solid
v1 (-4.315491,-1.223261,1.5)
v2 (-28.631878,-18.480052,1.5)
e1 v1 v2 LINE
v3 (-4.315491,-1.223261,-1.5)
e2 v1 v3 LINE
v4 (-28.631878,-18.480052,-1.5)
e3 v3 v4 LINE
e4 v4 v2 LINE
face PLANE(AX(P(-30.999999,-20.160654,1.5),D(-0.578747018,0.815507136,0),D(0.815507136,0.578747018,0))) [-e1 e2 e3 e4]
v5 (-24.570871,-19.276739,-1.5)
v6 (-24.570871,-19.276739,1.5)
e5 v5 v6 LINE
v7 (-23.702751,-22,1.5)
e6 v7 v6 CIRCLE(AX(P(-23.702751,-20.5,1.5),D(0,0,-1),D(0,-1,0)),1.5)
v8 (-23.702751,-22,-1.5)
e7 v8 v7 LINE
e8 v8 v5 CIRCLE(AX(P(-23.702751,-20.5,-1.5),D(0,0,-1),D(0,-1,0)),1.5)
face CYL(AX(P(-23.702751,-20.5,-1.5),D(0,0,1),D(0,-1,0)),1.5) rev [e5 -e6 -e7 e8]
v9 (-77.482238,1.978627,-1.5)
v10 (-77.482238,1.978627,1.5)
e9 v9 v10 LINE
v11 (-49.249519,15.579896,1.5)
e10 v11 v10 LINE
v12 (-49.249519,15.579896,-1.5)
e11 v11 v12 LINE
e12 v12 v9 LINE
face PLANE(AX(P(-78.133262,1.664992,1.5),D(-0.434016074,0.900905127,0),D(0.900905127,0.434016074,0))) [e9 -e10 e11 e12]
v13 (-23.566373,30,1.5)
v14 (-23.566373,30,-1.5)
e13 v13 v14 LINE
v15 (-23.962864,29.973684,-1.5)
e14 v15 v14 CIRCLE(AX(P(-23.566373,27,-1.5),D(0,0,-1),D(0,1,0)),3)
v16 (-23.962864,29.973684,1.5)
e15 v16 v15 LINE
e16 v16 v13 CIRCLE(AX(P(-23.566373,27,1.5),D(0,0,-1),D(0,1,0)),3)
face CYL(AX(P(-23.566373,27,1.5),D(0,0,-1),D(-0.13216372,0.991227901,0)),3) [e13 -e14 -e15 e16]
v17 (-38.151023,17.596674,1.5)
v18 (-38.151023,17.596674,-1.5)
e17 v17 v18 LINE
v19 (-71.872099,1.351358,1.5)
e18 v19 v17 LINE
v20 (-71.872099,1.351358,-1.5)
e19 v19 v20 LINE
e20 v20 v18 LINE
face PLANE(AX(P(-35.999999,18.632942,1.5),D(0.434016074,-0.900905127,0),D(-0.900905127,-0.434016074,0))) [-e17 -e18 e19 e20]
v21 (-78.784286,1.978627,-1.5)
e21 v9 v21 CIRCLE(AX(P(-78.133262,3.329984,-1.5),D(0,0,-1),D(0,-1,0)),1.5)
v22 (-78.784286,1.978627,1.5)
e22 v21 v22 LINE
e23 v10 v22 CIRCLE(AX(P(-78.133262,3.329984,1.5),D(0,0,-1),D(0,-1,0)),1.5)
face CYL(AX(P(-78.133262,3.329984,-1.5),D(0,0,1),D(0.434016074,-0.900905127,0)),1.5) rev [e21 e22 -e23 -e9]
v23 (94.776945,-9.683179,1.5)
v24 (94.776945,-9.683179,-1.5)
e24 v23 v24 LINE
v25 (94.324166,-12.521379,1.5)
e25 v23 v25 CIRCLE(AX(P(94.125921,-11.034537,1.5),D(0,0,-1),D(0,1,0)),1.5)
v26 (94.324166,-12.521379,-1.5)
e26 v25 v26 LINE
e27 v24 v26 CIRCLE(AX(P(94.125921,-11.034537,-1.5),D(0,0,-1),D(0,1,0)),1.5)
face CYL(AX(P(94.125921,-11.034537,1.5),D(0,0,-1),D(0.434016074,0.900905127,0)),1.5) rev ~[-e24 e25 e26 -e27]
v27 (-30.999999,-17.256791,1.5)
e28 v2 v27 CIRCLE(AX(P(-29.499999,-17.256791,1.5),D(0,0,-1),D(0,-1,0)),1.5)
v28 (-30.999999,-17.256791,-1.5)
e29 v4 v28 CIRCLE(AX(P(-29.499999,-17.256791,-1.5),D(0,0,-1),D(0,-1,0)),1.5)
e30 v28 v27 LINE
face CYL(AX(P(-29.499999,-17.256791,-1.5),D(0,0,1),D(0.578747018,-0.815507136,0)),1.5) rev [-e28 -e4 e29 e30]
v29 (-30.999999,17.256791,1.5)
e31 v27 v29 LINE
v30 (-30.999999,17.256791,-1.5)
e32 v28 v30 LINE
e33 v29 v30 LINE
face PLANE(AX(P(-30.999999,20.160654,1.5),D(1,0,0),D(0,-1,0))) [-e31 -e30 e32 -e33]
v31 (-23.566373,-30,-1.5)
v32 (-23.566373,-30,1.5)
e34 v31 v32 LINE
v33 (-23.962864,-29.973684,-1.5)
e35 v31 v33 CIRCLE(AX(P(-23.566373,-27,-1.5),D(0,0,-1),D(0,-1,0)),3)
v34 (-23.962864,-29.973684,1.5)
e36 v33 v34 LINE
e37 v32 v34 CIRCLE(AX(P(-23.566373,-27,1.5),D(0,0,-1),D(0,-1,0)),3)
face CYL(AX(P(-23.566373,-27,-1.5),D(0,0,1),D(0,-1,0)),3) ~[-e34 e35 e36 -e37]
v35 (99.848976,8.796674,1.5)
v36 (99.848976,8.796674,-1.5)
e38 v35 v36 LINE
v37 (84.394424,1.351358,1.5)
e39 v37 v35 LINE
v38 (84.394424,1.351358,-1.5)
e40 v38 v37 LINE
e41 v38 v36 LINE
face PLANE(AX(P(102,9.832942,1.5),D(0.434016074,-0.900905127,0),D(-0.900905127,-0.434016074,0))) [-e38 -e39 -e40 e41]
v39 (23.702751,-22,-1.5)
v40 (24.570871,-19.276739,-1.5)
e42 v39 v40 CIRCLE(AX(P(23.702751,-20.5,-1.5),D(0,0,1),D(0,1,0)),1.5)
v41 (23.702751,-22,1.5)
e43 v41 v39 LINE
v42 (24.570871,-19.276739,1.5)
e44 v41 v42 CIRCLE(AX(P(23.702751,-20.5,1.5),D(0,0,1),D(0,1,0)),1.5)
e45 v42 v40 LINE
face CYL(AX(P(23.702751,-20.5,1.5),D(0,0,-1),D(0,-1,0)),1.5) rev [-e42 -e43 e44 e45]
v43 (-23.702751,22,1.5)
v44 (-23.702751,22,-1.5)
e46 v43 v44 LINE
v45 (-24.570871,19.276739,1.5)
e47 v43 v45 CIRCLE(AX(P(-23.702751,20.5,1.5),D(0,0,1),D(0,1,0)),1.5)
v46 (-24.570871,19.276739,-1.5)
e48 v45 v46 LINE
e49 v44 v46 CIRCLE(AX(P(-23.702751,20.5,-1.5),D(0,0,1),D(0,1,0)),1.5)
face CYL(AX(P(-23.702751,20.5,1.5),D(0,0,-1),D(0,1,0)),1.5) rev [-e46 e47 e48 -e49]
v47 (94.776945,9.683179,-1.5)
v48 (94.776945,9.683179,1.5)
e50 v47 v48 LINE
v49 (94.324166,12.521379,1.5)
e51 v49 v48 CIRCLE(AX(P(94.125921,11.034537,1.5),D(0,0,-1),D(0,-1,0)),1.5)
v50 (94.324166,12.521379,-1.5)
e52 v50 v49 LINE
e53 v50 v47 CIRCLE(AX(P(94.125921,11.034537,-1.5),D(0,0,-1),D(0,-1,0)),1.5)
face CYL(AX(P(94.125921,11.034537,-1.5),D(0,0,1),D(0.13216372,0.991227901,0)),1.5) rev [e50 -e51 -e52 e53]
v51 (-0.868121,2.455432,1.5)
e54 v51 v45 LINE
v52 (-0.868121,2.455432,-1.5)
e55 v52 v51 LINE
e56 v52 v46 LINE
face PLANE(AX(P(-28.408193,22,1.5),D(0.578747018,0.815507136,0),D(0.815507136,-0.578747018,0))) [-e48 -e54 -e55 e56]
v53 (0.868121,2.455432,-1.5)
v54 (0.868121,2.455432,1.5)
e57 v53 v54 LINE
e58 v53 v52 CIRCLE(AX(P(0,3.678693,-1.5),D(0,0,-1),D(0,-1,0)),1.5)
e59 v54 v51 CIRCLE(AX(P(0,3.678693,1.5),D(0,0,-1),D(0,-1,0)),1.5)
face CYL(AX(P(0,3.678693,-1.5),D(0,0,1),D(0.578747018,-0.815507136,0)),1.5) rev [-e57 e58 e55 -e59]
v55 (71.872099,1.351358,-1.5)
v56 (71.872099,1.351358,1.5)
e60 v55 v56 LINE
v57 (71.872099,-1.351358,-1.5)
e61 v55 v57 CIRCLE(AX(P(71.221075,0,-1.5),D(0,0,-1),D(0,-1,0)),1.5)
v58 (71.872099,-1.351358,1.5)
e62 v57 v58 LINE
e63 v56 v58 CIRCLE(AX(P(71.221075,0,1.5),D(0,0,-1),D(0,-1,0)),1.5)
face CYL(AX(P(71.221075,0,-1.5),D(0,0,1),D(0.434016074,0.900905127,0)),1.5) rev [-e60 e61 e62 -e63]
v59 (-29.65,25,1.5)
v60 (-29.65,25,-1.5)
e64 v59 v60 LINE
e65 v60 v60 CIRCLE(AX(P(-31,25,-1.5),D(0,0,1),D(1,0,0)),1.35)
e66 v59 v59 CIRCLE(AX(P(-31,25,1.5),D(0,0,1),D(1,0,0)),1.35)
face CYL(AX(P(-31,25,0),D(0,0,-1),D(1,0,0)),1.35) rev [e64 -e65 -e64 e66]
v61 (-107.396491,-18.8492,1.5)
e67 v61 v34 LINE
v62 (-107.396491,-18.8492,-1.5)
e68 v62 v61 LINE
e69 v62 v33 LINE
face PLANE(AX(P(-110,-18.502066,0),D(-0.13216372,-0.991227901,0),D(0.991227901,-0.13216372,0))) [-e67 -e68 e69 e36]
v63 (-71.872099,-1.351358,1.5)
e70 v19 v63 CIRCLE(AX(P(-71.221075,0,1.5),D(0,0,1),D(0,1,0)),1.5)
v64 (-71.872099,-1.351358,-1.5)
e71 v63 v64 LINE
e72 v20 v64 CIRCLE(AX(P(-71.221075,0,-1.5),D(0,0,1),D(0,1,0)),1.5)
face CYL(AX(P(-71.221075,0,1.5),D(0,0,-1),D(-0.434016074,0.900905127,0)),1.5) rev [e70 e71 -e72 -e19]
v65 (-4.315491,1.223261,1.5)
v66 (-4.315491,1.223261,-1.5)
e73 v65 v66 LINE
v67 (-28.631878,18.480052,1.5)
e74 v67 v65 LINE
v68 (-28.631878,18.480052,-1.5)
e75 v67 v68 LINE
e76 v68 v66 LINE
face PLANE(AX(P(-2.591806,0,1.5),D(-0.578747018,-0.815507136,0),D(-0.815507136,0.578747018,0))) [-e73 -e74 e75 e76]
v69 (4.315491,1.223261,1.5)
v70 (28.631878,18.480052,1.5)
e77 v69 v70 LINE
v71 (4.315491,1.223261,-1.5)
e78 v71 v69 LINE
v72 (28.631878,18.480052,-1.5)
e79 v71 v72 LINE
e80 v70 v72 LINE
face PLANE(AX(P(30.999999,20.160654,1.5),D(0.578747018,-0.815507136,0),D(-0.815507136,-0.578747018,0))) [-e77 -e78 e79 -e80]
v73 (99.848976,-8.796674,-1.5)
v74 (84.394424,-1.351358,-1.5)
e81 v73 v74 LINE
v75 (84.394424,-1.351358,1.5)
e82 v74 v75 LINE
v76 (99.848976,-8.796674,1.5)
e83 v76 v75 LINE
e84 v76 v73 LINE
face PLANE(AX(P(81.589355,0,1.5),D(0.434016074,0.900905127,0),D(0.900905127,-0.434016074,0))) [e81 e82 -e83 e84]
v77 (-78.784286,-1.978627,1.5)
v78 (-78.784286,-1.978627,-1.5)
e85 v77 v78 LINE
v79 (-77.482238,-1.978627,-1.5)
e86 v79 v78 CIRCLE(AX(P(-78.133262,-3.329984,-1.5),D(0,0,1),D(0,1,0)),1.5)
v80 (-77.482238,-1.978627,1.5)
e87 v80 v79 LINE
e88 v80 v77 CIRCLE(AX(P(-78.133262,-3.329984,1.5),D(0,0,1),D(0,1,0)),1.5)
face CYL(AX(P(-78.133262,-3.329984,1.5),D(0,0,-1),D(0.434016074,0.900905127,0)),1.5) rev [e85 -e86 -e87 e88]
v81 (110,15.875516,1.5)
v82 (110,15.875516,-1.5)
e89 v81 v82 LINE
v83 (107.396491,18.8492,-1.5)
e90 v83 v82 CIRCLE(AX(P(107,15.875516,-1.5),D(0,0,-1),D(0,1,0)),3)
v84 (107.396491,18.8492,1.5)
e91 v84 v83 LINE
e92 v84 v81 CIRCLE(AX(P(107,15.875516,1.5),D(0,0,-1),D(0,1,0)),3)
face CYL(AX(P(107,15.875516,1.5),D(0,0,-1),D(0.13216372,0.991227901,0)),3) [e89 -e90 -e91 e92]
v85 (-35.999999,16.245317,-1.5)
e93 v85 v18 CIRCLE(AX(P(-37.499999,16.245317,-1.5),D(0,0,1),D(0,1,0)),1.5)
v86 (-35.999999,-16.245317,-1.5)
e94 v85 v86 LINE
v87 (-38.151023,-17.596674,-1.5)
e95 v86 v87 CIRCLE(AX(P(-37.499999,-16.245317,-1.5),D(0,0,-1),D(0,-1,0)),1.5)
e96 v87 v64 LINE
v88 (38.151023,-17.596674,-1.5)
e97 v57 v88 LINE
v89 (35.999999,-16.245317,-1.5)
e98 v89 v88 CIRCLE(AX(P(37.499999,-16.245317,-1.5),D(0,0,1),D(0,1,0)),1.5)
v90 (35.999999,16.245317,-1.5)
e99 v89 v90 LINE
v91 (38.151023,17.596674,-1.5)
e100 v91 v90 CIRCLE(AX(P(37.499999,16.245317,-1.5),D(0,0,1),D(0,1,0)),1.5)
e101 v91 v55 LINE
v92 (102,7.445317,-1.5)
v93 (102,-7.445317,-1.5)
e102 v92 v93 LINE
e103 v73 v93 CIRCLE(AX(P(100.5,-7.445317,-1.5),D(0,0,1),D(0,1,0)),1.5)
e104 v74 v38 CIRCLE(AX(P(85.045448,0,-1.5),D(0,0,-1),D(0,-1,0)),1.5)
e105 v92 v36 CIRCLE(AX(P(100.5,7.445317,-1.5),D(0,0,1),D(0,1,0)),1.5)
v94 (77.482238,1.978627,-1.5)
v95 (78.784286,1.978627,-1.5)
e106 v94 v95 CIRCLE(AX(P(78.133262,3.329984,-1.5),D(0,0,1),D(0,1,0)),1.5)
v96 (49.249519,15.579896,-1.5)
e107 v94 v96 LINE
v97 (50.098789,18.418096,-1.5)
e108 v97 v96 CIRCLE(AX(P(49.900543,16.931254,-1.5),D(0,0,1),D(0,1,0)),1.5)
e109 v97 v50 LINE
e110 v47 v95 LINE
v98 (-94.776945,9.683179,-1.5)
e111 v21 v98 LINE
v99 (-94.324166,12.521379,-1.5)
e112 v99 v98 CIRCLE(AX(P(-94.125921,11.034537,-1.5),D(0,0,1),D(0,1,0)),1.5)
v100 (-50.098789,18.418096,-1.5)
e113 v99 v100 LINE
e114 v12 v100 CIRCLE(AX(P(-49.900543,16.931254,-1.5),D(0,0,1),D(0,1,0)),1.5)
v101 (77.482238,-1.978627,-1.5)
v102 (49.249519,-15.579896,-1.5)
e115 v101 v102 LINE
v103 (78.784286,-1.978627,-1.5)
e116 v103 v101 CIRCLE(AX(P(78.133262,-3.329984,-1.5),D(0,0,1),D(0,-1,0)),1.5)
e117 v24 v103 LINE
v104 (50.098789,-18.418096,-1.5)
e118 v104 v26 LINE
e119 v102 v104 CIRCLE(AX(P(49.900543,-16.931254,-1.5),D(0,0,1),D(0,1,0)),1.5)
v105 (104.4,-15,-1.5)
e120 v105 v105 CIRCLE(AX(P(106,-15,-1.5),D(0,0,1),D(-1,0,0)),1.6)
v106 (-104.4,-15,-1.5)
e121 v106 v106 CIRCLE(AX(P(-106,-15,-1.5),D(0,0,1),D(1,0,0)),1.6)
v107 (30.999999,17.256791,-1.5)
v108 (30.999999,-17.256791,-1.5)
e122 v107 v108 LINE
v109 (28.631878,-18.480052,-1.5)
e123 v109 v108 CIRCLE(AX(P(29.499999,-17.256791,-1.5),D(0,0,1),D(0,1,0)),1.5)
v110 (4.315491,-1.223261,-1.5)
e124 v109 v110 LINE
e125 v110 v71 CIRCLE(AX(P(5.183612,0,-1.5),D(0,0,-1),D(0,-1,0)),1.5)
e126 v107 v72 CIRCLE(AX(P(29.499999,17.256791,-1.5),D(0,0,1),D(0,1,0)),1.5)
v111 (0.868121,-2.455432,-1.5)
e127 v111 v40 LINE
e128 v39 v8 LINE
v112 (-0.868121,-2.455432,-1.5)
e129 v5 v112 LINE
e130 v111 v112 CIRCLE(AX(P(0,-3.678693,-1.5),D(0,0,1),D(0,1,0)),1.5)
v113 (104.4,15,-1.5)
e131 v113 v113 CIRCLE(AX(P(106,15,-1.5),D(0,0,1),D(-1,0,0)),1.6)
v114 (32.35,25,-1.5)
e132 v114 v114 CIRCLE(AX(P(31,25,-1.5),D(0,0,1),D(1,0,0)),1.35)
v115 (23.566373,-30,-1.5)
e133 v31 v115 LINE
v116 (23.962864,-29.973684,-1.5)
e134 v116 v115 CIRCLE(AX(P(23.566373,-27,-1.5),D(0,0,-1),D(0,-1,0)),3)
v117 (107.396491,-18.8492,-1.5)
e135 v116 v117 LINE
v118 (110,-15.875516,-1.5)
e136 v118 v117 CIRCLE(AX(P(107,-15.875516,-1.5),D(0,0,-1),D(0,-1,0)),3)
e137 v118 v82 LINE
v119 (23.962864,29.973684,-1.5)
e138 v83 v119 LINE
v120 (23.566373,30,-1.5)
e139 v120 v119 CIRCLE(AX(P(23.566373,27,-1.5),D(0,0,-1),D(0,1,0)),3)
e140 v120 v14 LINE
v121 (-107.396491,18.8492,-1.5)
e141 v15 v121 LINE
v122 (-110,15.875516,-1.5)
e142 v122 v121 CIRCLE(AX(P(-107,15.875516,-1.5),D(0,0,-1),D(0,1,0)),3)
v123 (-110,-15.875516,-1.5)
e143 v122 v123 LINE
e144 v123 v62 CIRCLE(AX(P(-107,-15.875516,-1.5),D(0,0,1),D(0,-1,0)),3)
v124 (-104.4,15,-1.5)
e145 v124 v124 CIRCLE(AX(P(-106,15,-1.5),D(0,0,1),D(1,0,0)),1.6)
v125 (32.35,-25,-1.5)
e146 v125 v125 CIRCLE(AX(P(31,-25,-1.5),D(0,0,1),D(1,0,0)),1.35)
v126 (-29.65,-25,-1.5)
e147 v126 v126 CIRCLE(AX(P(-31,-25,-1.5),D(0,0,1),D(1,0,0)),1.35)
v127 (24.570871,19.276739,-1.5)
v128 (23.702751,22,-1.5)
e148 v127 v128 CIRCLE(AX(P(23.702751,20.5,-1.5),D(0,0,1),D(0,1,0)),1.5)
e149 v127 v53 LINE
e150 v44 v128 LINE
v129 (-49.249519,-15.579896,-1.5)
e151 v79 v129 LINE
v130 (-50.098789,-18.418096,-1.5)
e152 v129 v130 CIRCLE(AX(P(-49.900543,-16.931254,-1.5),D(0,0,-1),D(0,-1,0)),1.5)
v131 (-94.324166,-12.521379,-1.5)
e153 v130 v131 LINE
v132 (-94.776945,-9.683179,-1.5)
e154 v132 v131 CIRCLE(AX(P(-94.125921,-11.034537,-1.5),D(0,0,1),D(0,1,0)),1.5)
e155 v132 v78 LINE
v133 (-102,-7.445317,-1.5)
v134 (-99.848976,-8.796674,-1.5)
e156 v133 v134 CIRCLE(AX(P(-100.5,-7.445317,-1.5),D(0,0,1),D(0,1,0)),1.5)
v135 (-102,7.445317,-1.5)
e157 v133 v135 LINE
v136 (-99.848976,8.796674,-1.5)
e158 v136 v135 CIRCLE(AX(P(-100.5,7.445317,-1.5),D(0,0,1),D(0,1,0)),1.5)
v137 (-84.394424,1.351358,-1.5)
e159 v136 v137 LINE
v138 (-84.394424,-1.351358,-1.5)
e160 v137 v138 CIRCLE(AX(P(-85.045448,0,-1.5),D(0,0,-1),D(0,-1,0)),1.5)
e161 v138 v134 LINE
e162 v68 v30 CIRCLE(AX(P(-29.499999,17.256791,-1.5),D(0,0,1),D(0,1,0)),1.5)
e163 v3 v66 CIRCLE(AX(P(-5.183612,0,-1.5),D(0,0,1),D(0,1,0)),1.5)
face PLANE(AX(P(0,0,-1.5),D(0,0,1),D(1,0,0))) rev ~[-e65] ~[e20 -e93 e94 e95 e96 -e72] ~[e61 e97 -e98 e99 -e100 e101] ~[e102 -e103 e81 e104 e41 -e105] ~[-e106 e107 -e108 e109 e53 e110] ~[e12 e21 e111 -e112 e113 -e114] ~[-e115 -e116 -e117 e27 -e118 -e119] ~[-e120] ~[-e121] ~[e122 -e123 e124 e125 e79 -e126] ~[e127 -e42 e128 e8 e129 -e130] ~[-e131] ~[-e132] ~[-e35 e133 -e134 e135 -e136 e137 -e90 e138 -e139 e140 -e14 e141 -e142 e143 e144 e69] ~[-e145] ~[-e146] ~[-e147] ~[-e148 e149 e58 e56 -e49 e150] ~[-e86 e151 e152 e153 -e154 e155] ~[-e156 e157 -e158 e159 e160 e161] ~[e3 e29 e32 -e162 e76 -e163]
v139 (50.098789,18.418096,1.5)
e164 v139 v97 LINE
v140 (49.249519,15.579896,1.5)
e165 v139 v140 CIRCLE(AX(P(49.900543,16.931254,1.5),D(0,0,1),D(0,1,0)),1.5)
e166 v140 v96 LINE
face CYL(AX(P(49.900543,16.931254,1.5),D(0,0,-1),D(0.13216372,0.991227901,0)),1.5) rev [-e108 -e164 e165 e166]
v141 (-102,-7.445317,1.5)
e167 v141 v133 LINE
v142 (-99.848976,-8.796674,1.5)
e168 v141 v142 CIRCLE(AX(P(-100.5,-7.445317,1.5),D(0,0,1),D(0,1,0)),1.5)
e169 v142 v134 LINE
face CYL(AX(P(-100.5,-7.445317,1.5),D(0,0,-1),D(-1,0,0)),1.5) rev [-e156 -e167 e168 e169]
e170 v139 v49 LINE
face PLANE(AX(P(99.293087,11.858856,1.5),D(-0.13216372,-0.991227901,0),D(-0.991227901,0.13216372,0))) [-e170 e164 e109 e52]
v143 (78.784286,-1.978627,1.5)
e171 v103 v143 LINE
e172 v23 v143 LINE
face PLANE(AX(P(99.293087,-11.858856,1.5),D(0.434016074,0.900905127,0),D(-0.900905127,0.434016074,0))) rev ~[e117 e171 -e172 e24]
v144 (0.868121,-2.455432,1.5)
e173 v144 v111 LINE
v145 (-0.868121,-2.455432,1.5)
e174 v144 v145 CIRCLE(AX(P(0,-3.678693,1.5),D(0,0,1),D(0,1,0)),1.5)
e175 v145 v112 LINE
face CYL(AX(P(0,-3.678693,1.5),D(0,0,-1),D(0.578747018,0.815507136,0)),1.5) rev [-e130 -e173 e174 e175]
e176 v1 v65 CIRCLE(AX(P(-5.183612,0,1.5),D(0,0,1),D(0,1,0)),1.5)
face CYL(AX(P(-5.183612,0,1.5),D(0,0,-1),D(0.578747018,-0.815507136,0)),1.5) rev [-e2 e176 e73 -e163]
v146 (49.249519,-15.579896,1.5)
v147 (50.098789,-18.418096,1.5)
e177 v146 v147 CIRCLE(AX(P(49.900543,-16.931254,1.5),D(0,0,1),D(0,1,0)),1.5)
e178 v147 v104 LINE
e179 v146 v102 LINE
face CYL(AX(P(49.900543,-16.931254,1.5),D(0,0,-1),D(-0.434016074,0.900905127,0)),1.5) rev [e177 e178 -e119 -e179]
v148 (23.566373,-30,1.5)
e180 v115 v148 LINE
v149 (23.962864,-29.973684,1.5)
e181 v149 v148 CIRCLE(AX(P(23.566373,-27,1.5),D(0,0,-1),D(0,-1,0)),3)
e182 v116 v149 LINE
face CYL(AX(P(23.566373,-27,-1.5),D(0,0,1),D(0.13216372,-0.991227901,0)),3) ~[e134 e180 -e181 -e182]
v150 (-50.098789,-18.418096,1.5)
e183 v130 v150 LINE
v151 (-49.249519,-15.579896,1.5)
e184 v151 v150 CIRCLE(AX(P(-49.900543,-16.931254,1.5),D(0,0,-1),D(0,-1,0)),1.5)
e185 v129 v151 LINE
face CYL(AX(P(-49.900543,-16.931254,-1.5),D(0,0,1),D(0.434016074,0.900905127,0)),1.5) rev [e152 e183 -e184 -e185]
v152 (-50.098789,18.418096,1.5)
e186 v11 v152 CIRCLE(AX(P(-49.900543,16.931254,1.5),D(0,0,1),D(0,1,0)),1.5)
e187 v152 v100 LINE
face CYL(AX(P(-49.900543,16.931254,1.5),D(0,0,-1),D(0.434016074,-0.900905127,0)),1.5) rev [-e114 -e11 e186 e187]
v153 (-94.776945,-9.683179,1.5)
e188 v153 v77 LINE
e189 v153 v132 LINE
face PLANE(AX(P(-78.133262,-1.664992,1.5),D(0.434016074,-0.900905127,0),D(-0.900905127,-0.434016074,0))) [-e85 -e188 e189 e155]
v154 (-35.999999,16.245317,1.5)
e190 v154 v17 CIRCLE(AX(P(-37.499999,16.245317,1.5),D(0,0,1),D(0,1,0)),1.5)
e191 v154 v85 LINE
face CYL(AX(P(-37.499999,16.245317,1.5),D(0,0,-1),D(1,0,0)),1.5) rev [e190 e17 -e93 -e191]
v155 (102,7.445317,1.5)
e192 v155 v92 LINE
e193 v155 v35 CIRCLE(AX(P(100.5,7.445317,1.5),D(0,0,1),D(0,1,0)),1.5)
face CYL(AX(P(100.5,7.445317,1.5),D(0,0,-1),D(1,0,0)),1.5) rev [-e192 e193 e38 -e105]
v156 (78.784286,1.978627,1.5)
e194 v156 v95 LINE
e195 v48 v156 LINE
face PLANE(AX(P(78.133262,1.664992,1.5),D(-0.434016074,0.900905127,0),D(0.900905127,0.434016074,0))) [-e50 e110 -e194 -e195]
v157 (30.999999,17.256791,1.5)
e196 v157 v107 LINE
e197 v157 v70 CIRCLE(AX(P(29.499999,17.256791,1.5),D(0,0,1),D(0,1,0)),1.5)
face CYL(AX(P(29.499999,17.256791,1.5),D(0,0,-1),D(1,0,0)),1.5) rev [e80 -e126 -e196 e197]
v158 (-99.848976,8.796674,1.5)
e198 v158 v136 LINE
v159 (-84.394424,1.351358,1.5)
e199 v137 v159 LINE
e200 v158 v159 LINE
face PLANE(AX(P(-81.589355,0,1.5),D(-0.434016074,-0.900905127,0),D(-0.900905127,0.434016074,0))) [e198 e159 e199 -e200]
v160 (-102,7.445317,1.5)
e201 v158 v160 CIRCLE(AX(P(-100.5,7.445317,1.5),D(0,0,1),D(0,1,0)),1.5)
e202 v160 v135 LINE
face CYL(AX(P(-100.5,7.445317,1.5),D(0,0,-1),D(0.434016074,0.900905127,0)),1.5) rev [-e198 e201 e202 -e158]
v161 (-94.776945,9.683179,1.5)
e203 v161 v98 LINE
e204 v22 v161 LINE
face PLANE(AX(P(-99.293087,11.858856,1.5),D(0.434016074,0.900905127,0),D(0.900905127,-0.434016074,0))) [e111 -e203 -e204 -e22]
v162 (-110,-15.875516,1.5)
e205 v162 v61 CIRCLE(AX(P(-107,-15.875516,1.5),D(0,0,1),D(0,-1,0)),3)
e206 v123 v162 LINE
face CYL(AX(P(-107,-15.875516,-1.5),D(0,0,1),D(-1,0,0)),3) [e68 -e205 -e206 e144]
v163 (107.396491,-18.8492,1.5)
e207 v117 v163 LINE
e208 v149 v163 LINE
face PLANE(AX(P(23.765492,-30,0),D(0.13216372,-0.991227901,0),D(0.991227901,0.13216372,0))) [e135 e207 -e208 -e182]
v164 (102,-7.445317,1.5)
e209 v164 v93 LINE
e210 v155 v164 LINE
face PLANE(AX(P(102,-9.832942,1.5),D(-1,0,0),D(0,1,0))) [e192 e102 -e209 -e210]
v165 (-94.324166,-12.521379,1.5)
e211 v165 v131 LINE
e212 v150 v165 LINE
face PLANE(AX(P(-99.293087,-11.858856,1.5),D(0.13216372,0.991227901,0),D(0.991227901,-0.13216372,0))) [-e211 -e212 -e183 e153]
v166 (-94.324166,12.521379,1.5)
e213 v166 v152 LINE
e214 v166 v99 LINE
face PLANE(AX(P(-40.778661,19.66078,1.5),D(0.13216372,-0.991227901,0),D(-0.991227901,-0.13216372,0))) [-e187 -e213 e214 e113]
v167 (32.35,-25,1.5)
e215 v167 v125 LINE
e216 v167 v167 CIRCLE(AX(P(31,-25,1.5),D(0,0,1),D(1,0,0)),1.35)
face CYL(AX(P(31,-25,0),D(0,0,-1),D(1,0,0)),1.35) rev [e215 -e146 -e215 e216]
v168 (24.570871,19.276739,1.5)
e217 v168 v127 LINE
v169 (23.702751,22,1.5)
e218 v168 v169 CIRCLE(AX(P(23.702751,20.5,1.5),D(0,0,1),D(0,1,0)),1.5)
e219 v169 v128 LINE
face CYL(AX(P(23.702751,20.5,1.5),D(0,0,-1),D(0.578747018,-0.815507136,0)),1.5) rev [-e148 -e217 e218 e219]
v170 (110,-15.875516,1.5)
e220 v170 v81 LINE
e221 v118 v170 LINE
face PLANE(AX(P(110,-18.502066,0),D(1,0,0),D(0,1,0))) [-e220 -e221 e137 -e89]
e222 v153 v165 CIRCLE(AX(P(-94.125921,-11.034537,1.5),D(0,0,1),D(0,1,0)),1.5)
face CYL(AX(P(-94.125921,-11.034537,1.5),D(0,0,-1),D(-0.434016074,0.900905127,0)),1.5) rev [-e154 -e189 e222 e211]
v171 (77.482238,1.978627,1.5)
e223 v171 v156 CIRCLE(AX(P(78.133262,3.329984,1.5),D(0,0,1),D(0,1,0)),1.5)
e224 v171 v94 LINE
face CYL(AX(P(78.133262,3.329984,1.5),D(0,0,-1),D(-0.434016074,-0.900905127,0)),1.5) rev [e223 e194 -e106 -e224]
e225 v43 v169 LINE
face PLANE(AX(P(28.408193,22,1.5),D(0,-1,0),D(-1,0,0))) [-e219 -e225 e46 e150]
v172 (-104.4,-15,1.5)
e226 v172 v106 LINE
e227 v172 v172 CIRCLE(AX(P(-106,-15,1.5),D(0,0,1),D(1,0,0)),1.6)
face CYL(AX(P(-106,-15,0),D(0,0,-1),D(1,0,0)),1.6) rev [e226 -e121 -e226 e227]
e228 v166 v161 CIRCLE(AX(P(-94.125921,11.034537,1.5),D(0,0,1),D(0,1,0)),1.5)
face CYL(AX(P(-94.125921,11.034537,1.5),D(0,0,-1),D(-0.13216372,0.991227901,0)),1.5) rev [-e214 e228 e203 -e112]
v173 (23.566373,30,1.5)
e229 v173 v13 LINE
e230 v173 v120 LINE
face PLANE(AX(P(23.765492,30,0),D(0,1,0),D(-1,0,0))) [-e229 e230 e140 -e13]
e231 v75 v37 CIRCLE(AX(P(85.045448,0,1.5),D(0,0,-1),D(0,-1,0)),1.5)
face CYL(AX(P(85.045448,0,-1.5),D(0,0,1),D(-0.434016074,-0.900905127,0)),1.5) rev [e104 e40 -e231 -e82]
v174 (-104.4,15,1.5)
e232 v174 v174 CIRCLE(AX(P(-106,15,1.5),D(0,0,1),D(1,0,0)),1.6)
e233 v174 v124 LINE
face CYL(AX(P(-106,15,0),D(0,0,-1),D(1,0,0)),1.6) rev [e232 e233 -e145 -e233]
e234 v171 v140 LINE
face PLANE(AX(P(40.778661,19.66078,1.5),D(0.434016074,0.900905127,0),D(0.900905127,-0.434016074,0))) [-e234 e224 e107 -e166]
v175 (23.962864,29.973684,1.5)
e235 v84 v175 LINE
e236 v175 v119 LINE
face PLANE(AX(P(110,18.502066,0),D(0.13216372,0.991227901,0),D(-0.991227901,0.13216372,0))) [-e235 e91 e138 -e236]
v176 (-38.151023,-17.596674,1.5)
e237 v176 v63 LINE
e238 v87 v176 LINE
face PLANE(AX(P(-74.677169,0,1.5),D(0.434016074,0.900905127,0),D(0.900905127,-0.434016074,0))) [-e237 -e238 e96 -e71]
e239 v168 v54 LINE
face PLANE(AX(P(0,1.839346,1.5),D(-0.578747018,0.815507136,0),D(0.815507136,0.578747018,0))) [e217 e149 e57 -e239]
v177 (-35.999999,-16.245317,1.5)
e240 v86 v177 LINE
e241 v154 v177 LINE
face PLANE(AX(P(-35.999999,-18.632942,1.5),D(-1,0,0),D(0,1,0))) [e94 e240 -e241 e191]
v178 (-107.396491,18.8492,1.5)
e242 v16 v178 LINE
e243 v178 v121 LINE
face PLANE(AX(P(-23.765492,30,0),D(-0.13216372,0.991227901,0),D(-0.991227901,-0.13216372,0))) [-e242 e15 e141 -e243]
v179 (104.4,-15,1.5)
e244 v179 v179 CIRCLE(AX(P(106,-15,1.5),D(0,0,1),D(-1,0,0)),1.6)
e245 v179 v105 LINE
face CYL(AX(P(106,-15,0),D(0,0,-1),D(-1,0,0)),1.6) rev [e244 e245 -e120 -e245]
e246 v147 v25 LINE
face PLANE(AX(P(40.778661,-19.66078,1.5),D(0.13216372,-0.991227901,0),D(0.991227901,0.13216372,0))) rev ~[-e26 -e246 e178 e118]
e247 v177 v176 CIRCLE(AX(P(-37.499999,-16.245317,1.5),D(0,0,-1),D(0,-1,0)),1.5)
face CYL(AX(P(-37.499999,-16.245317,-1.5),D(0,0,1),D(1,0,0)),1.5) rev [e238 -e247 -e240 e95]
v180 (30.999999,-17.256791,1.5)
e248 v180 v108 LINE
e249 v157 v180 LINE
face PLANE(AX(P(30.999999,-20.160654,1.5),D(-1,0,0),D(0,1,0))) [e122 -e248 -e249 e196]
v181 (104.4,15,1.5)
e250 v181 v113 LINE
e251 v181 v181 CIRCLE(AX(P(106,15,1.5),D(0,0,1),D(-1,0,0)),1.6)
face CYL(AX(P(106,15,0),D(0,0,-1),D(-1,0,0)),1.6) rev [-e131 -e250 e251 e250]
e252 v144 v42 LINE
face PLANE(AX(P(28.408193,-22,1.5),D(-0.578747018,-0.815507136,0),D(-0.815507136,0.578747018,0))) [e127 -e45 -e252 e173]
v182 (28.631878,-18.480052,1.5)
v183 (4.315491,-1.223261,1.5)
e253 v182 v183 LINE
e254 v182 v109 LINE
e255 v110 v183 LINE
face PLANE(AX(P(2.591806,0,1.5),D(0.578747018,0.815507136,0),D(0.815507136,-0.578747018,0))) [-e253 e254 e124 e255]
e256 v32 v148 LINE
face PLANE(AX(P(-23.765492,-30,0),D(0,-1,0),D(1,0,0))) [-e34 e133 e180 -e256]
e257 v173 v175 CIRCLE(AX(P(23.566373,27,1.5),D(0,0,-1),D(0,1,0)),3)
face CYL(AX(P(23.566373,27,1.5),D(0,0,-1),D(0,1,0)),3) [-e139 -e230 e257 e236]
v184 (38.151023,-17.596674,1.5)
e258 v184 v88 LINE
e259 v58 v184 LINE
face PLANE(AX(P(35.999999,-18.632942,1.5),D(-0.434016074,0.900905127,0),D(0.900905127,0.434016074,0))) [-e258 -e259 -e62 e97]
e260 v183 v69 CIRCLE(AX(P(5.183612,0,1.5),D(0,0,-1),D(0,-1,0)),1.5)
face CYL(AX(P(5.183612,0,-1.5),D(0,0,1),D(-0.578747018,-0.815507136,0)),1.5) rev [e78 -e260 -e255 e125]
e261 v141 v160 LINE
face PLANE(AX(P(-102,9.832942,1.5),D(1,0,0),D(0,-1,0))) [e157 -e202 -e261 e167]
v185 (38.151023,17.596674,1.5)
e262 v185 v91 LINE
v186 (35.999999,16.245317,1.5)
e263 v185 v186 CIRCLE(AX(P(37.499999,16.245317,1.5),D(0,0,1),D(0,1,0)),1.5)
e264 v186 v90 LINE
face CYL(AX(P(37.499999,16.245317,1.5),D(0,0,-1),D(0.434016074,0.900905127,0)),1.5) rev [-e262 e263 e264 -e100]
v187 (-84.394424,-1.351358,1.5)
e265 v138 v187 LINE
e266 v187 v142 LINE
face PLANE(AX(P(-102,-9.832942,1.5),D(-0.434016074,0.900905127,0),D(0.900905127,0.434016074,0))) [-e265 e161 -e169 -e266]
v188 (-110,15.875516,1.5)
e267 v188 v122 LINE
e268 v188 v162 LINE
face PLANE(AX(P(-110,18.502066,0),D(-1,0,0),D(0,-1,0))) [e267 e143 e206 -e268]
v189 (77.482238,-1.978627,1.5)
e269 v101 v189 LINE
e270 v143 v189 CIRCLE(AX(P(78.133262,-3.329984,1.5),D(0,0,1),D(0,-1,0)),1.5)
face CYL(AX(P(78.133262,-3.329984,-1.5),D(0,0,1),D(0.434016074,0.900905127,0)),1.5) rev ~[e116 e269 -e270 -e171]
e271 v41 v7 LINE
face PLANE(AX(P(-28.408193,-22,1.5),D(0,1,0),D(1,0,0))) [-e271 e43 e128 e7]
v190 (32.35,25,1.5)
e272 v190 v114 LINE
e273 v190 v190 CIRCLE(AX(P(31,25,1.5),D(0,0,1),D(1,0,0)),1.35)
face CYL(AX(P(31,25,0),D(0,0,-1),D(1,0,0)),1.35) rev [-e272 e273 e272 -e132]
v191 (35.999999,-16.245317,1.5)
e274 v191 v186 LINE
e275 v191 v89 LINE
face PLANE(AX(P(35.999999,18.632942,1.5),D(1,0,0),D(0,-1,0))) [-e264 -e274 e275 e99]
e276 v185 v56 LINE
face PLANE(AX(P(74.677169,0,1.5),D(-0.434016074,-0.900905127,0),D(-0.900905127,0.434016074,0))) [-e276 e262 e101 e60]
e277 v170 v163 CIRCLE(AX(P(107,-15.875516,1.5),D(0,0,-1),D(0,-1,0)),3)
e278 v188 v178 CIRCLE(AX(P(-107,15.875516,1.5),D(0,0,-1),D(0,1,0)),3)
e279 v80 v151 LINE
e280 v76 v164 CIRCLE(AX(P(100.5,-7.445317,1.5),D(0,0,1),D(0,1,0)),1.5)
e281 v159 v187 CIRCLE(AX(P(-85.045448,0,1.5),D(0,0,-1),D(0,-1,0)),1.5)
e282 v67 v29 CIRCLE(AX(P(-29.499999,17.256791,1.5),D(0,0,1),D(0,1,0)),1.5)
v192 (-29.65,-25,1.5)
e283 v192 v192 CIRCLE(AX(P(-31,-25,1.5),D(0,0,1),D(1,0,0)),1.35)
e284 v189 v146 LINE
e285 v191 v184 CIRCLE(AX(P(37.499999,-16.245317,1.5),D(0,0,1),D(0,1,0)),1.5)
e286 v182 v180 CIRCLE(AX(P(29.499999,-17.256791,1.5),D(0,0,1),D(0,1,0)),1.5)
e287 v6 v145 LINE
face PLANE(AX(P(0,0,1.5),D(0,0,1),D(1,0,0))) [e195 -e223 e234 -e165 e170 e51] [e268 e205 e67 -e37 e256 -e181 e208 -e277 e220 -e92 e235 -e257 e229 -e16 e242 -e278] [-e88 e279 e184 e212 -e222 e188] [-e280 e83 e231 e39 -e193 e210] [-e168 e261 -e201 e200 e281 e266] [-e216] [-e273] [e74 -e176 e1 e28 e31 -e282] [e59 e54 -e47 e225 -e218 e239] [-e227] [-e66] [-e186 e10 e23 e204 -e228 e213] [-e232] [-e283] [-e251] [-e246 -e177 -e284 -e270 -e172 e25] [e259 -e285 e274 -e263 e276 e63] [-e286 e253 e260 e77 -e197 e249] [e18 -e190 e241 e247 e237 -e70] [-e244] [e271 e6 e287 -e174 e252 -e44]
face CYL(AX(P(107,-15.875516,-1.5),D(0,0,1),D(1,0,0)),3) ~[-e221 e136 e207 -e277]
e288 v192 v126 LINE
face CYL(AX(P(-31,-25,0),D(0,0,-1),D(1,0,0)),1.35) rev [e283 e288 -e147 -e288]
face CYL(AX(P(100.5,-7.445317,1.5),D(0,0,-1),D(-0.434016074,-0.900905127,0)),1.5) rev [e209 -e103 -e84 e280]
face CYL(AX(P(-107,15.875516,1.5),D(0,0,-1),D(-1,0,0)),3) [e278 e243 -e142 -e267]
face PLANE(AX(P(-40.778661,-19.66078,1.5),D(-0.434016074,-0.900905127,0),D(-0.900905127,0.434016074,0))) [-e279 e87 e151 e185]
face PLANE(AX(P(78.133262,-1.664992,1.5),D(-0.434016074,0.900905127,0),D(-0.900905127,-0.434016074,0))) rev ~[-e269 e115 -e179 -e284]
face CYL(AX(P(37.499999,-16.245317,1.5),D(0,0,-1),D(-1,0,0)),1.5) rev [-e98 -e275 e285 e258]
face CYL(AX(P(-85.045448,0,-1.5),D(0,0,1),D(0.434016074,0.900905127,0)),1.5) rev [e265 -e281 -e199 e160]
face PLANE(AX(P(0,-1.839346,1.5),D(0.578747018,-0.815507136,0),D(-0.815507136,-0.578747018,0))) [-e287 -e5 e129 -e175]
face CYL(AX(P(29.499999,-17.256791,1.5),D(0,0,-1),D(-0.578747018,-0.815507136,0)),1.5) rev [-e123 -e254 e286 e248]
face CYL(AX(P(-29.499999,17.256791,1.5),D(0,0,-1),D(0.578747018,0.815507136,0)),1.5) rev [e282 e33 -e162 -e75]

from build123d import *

# Parameters (mm, degrees)
SKETCH_1_R          = 1.35
SKETCH_1_R_2        = 1.6
EXTRUDE_1_DEPTH     = 1.5
FILLET_1_R          = 3
CUT_EXTRUDE_1_DEPTH = 6.5
FILLET_2_R          = 1.5


with BuildPart() as part:
    # 草图1 → 凸台-拉伸1 (new, symmetric)
    with BuildSketch(Plane.XY):
        Polygon((-110, 18.502065587), (-110, -18.502065587), (-23.765491901, -30), (23.765491901, -30), (110, -18.502065587), (110, 18.502065587), (23.765491901, 30), (-23.765491901, 30), align=None)
        with Locations((-31, 25)):
            Circle(SKETCH_1_R, mode=Mode.SUBTRACT)
        with Locations((31, 25)):
            Circle(SKETCH_1_R, mode=Mode.SUBTRACT)
        with Locations((-31, -25)):
            Circle(SKETCH_1_R, mode=Mode.SUBTRACT)
        with Locations((31, -25)):
            Circle(SKETCH_1_R, mode=Mode.SUBTRACT)
        with Locations((-106, 15)):
            Circle(SKETCH_1_R_2, mode=Mode.SUBTRACT)
        with Locations((-106, -15)):
            Circle(SKETCH_1_R_2, mode=Mode.SUBTRACT)
        with Locations(Location((106, -15, 0), (0, 0, 180))):
            Circle(SKETCH_1_R_2, mode=Mode.SUBTRACT)
        with Locations(Location((106, 15, 0), (0, 0, 180))):
            Circle(SKETCH_1_R_2, mode=Mode.SUBTRACT)
    extrude(amount=EXTRUDE_1_DEPTH, both=True)

    # 圆角1
    fillet_1_edges = [part.edges().sort_by_distance(p)[0] for p in [
        (23.765491901, -30, 0),
        (-23.765491901, -30, 0),
        (-110, -18.502065587, 0),
        (-110, 18.502065587, 0),
        (-23.765491901, 30, 0),
        (23.765491901, 30, 0),
        (110, 18.502065587, 0),
        (110, -18.502065587, 0),
    ]]
    fillet(fillet_1_edges, radius=FILLET_1_R)

    # 草图2 → 切除-拉伸1 (cut, symmetric)
    with BuildSketch(Plane.XY.offset(1.5)):
        Polygon((-99.293086989, 11.858856148), (-78.133261722, 1.66499219), (-40.778661074, 19.660779603), align=None)
        Polygon((-74.677168531, 0), (-35.999998999, -18.632942356), (-35.999998999, 18.632942356), align=None)
        Polygon((-99.293086989, -11.858856148), (-40.778661074, -19.660779603), (-78.133261722, -1.66499219), align=None)
        Polygon((-102, -9.832942223), (-81.589354914, 0), (-102, 9.832942223), align=None)
        Polygon((-30.999998999, 20.160653741), (-30.999998999, -20.160653741), (-2.591806009, 0), align=None)
        Polygon((-28.40819299, 22), (0, 1.839346259), (28.40819299, 22), align=None)
        Polygon((30.999998999, 20.160653741), (2.591806009, 0), (30.999998999, -20.160653741), align=None)
        Polygon((0, -1.839346259), (-28.40819299, -22), (28.40819299, -22), align=None)
        Polygon((35.999998999, -18.632942356), (74.677168531, 0), (35.999998999, 18.632942356), align=None)
        Polygon((78.133261722, 1.66499219), (99.293086989, 11.858856148), (40.778661074, 19.660779603), align=None)
        Polygon((102, 9.832942223), (81.589354914, 0), (102, -9.832942223), align=None)
        Polygon((99.293086989, -11.858856148), (78.133261722, -1.66499219), (40.778661074, -19.660779603), align=None)
    extrude(amount=CUT_EXTRUDE_1_DEPTH, both=True, mode=Mode.SUBTRACT)

    # 圆角2
    fillet_2_edges = [part.edges().sort_by_distance(p)[0] for p in [
        (2.591806009, 0, 0),
        (30.999998999, 20.160653741, 0),
        (30.999998999, -20.160653741, 0),
        (0, 1.839346259, 0),
        (-28.40819299, 22, 0),
        (28.40819299, 22, 0),
        (-28.40819299, -22, 0),
        (0, -1.839346259, 0),
        (28.40819299, -22, 0),
        (35.999998999, -18.632942356, 0),
        (35.999998999, 18.632942356, 0),
        (74.677168531, 0, 0),
        (-78.133261722, -1.66499219, 0),
        (-40.778661074, -19.660779603, 0),
        (-99.293086989, -11.858856148, 0),
        (-74.677168531, 0, 0),
        (-35.999998999, 18.632942356, 0),
        (-35.999998999, -18.632942356, 0),
        (-102, -9.832942223, 0),
        (-102, 9.832942223, 0),
        (-81.589354914, 0, 0),
        (-30.999998999, -20.160653741, 0),
        (-30.999998999, 20.160653741, 0),
        (-2.591806009, 0, 0),
        (40.778661074, -19.660779603, 0),
        (78.133261722, -1.66499219, 0),
        (99.293086989, -11.858856148, 0),
        (40.778661074, 19.660779603, 0),
        (99.293086989, 11.858856148, 0),
        (78.133261722, 1.66499219, 0),
        (102, 9.832942223, 0),
        (102, -9.832942223, 0),
        (81.589354914, 0, 0),
        (-99.293086989, 11.858856148, 0),
        (-40.778661074, 19.660779603, 0),
        (-78.133261722, 1.66499219, 0),
    ]]
    fillet(fillet_2_edges, radius=FILLET_2_R)


solid = part.part
